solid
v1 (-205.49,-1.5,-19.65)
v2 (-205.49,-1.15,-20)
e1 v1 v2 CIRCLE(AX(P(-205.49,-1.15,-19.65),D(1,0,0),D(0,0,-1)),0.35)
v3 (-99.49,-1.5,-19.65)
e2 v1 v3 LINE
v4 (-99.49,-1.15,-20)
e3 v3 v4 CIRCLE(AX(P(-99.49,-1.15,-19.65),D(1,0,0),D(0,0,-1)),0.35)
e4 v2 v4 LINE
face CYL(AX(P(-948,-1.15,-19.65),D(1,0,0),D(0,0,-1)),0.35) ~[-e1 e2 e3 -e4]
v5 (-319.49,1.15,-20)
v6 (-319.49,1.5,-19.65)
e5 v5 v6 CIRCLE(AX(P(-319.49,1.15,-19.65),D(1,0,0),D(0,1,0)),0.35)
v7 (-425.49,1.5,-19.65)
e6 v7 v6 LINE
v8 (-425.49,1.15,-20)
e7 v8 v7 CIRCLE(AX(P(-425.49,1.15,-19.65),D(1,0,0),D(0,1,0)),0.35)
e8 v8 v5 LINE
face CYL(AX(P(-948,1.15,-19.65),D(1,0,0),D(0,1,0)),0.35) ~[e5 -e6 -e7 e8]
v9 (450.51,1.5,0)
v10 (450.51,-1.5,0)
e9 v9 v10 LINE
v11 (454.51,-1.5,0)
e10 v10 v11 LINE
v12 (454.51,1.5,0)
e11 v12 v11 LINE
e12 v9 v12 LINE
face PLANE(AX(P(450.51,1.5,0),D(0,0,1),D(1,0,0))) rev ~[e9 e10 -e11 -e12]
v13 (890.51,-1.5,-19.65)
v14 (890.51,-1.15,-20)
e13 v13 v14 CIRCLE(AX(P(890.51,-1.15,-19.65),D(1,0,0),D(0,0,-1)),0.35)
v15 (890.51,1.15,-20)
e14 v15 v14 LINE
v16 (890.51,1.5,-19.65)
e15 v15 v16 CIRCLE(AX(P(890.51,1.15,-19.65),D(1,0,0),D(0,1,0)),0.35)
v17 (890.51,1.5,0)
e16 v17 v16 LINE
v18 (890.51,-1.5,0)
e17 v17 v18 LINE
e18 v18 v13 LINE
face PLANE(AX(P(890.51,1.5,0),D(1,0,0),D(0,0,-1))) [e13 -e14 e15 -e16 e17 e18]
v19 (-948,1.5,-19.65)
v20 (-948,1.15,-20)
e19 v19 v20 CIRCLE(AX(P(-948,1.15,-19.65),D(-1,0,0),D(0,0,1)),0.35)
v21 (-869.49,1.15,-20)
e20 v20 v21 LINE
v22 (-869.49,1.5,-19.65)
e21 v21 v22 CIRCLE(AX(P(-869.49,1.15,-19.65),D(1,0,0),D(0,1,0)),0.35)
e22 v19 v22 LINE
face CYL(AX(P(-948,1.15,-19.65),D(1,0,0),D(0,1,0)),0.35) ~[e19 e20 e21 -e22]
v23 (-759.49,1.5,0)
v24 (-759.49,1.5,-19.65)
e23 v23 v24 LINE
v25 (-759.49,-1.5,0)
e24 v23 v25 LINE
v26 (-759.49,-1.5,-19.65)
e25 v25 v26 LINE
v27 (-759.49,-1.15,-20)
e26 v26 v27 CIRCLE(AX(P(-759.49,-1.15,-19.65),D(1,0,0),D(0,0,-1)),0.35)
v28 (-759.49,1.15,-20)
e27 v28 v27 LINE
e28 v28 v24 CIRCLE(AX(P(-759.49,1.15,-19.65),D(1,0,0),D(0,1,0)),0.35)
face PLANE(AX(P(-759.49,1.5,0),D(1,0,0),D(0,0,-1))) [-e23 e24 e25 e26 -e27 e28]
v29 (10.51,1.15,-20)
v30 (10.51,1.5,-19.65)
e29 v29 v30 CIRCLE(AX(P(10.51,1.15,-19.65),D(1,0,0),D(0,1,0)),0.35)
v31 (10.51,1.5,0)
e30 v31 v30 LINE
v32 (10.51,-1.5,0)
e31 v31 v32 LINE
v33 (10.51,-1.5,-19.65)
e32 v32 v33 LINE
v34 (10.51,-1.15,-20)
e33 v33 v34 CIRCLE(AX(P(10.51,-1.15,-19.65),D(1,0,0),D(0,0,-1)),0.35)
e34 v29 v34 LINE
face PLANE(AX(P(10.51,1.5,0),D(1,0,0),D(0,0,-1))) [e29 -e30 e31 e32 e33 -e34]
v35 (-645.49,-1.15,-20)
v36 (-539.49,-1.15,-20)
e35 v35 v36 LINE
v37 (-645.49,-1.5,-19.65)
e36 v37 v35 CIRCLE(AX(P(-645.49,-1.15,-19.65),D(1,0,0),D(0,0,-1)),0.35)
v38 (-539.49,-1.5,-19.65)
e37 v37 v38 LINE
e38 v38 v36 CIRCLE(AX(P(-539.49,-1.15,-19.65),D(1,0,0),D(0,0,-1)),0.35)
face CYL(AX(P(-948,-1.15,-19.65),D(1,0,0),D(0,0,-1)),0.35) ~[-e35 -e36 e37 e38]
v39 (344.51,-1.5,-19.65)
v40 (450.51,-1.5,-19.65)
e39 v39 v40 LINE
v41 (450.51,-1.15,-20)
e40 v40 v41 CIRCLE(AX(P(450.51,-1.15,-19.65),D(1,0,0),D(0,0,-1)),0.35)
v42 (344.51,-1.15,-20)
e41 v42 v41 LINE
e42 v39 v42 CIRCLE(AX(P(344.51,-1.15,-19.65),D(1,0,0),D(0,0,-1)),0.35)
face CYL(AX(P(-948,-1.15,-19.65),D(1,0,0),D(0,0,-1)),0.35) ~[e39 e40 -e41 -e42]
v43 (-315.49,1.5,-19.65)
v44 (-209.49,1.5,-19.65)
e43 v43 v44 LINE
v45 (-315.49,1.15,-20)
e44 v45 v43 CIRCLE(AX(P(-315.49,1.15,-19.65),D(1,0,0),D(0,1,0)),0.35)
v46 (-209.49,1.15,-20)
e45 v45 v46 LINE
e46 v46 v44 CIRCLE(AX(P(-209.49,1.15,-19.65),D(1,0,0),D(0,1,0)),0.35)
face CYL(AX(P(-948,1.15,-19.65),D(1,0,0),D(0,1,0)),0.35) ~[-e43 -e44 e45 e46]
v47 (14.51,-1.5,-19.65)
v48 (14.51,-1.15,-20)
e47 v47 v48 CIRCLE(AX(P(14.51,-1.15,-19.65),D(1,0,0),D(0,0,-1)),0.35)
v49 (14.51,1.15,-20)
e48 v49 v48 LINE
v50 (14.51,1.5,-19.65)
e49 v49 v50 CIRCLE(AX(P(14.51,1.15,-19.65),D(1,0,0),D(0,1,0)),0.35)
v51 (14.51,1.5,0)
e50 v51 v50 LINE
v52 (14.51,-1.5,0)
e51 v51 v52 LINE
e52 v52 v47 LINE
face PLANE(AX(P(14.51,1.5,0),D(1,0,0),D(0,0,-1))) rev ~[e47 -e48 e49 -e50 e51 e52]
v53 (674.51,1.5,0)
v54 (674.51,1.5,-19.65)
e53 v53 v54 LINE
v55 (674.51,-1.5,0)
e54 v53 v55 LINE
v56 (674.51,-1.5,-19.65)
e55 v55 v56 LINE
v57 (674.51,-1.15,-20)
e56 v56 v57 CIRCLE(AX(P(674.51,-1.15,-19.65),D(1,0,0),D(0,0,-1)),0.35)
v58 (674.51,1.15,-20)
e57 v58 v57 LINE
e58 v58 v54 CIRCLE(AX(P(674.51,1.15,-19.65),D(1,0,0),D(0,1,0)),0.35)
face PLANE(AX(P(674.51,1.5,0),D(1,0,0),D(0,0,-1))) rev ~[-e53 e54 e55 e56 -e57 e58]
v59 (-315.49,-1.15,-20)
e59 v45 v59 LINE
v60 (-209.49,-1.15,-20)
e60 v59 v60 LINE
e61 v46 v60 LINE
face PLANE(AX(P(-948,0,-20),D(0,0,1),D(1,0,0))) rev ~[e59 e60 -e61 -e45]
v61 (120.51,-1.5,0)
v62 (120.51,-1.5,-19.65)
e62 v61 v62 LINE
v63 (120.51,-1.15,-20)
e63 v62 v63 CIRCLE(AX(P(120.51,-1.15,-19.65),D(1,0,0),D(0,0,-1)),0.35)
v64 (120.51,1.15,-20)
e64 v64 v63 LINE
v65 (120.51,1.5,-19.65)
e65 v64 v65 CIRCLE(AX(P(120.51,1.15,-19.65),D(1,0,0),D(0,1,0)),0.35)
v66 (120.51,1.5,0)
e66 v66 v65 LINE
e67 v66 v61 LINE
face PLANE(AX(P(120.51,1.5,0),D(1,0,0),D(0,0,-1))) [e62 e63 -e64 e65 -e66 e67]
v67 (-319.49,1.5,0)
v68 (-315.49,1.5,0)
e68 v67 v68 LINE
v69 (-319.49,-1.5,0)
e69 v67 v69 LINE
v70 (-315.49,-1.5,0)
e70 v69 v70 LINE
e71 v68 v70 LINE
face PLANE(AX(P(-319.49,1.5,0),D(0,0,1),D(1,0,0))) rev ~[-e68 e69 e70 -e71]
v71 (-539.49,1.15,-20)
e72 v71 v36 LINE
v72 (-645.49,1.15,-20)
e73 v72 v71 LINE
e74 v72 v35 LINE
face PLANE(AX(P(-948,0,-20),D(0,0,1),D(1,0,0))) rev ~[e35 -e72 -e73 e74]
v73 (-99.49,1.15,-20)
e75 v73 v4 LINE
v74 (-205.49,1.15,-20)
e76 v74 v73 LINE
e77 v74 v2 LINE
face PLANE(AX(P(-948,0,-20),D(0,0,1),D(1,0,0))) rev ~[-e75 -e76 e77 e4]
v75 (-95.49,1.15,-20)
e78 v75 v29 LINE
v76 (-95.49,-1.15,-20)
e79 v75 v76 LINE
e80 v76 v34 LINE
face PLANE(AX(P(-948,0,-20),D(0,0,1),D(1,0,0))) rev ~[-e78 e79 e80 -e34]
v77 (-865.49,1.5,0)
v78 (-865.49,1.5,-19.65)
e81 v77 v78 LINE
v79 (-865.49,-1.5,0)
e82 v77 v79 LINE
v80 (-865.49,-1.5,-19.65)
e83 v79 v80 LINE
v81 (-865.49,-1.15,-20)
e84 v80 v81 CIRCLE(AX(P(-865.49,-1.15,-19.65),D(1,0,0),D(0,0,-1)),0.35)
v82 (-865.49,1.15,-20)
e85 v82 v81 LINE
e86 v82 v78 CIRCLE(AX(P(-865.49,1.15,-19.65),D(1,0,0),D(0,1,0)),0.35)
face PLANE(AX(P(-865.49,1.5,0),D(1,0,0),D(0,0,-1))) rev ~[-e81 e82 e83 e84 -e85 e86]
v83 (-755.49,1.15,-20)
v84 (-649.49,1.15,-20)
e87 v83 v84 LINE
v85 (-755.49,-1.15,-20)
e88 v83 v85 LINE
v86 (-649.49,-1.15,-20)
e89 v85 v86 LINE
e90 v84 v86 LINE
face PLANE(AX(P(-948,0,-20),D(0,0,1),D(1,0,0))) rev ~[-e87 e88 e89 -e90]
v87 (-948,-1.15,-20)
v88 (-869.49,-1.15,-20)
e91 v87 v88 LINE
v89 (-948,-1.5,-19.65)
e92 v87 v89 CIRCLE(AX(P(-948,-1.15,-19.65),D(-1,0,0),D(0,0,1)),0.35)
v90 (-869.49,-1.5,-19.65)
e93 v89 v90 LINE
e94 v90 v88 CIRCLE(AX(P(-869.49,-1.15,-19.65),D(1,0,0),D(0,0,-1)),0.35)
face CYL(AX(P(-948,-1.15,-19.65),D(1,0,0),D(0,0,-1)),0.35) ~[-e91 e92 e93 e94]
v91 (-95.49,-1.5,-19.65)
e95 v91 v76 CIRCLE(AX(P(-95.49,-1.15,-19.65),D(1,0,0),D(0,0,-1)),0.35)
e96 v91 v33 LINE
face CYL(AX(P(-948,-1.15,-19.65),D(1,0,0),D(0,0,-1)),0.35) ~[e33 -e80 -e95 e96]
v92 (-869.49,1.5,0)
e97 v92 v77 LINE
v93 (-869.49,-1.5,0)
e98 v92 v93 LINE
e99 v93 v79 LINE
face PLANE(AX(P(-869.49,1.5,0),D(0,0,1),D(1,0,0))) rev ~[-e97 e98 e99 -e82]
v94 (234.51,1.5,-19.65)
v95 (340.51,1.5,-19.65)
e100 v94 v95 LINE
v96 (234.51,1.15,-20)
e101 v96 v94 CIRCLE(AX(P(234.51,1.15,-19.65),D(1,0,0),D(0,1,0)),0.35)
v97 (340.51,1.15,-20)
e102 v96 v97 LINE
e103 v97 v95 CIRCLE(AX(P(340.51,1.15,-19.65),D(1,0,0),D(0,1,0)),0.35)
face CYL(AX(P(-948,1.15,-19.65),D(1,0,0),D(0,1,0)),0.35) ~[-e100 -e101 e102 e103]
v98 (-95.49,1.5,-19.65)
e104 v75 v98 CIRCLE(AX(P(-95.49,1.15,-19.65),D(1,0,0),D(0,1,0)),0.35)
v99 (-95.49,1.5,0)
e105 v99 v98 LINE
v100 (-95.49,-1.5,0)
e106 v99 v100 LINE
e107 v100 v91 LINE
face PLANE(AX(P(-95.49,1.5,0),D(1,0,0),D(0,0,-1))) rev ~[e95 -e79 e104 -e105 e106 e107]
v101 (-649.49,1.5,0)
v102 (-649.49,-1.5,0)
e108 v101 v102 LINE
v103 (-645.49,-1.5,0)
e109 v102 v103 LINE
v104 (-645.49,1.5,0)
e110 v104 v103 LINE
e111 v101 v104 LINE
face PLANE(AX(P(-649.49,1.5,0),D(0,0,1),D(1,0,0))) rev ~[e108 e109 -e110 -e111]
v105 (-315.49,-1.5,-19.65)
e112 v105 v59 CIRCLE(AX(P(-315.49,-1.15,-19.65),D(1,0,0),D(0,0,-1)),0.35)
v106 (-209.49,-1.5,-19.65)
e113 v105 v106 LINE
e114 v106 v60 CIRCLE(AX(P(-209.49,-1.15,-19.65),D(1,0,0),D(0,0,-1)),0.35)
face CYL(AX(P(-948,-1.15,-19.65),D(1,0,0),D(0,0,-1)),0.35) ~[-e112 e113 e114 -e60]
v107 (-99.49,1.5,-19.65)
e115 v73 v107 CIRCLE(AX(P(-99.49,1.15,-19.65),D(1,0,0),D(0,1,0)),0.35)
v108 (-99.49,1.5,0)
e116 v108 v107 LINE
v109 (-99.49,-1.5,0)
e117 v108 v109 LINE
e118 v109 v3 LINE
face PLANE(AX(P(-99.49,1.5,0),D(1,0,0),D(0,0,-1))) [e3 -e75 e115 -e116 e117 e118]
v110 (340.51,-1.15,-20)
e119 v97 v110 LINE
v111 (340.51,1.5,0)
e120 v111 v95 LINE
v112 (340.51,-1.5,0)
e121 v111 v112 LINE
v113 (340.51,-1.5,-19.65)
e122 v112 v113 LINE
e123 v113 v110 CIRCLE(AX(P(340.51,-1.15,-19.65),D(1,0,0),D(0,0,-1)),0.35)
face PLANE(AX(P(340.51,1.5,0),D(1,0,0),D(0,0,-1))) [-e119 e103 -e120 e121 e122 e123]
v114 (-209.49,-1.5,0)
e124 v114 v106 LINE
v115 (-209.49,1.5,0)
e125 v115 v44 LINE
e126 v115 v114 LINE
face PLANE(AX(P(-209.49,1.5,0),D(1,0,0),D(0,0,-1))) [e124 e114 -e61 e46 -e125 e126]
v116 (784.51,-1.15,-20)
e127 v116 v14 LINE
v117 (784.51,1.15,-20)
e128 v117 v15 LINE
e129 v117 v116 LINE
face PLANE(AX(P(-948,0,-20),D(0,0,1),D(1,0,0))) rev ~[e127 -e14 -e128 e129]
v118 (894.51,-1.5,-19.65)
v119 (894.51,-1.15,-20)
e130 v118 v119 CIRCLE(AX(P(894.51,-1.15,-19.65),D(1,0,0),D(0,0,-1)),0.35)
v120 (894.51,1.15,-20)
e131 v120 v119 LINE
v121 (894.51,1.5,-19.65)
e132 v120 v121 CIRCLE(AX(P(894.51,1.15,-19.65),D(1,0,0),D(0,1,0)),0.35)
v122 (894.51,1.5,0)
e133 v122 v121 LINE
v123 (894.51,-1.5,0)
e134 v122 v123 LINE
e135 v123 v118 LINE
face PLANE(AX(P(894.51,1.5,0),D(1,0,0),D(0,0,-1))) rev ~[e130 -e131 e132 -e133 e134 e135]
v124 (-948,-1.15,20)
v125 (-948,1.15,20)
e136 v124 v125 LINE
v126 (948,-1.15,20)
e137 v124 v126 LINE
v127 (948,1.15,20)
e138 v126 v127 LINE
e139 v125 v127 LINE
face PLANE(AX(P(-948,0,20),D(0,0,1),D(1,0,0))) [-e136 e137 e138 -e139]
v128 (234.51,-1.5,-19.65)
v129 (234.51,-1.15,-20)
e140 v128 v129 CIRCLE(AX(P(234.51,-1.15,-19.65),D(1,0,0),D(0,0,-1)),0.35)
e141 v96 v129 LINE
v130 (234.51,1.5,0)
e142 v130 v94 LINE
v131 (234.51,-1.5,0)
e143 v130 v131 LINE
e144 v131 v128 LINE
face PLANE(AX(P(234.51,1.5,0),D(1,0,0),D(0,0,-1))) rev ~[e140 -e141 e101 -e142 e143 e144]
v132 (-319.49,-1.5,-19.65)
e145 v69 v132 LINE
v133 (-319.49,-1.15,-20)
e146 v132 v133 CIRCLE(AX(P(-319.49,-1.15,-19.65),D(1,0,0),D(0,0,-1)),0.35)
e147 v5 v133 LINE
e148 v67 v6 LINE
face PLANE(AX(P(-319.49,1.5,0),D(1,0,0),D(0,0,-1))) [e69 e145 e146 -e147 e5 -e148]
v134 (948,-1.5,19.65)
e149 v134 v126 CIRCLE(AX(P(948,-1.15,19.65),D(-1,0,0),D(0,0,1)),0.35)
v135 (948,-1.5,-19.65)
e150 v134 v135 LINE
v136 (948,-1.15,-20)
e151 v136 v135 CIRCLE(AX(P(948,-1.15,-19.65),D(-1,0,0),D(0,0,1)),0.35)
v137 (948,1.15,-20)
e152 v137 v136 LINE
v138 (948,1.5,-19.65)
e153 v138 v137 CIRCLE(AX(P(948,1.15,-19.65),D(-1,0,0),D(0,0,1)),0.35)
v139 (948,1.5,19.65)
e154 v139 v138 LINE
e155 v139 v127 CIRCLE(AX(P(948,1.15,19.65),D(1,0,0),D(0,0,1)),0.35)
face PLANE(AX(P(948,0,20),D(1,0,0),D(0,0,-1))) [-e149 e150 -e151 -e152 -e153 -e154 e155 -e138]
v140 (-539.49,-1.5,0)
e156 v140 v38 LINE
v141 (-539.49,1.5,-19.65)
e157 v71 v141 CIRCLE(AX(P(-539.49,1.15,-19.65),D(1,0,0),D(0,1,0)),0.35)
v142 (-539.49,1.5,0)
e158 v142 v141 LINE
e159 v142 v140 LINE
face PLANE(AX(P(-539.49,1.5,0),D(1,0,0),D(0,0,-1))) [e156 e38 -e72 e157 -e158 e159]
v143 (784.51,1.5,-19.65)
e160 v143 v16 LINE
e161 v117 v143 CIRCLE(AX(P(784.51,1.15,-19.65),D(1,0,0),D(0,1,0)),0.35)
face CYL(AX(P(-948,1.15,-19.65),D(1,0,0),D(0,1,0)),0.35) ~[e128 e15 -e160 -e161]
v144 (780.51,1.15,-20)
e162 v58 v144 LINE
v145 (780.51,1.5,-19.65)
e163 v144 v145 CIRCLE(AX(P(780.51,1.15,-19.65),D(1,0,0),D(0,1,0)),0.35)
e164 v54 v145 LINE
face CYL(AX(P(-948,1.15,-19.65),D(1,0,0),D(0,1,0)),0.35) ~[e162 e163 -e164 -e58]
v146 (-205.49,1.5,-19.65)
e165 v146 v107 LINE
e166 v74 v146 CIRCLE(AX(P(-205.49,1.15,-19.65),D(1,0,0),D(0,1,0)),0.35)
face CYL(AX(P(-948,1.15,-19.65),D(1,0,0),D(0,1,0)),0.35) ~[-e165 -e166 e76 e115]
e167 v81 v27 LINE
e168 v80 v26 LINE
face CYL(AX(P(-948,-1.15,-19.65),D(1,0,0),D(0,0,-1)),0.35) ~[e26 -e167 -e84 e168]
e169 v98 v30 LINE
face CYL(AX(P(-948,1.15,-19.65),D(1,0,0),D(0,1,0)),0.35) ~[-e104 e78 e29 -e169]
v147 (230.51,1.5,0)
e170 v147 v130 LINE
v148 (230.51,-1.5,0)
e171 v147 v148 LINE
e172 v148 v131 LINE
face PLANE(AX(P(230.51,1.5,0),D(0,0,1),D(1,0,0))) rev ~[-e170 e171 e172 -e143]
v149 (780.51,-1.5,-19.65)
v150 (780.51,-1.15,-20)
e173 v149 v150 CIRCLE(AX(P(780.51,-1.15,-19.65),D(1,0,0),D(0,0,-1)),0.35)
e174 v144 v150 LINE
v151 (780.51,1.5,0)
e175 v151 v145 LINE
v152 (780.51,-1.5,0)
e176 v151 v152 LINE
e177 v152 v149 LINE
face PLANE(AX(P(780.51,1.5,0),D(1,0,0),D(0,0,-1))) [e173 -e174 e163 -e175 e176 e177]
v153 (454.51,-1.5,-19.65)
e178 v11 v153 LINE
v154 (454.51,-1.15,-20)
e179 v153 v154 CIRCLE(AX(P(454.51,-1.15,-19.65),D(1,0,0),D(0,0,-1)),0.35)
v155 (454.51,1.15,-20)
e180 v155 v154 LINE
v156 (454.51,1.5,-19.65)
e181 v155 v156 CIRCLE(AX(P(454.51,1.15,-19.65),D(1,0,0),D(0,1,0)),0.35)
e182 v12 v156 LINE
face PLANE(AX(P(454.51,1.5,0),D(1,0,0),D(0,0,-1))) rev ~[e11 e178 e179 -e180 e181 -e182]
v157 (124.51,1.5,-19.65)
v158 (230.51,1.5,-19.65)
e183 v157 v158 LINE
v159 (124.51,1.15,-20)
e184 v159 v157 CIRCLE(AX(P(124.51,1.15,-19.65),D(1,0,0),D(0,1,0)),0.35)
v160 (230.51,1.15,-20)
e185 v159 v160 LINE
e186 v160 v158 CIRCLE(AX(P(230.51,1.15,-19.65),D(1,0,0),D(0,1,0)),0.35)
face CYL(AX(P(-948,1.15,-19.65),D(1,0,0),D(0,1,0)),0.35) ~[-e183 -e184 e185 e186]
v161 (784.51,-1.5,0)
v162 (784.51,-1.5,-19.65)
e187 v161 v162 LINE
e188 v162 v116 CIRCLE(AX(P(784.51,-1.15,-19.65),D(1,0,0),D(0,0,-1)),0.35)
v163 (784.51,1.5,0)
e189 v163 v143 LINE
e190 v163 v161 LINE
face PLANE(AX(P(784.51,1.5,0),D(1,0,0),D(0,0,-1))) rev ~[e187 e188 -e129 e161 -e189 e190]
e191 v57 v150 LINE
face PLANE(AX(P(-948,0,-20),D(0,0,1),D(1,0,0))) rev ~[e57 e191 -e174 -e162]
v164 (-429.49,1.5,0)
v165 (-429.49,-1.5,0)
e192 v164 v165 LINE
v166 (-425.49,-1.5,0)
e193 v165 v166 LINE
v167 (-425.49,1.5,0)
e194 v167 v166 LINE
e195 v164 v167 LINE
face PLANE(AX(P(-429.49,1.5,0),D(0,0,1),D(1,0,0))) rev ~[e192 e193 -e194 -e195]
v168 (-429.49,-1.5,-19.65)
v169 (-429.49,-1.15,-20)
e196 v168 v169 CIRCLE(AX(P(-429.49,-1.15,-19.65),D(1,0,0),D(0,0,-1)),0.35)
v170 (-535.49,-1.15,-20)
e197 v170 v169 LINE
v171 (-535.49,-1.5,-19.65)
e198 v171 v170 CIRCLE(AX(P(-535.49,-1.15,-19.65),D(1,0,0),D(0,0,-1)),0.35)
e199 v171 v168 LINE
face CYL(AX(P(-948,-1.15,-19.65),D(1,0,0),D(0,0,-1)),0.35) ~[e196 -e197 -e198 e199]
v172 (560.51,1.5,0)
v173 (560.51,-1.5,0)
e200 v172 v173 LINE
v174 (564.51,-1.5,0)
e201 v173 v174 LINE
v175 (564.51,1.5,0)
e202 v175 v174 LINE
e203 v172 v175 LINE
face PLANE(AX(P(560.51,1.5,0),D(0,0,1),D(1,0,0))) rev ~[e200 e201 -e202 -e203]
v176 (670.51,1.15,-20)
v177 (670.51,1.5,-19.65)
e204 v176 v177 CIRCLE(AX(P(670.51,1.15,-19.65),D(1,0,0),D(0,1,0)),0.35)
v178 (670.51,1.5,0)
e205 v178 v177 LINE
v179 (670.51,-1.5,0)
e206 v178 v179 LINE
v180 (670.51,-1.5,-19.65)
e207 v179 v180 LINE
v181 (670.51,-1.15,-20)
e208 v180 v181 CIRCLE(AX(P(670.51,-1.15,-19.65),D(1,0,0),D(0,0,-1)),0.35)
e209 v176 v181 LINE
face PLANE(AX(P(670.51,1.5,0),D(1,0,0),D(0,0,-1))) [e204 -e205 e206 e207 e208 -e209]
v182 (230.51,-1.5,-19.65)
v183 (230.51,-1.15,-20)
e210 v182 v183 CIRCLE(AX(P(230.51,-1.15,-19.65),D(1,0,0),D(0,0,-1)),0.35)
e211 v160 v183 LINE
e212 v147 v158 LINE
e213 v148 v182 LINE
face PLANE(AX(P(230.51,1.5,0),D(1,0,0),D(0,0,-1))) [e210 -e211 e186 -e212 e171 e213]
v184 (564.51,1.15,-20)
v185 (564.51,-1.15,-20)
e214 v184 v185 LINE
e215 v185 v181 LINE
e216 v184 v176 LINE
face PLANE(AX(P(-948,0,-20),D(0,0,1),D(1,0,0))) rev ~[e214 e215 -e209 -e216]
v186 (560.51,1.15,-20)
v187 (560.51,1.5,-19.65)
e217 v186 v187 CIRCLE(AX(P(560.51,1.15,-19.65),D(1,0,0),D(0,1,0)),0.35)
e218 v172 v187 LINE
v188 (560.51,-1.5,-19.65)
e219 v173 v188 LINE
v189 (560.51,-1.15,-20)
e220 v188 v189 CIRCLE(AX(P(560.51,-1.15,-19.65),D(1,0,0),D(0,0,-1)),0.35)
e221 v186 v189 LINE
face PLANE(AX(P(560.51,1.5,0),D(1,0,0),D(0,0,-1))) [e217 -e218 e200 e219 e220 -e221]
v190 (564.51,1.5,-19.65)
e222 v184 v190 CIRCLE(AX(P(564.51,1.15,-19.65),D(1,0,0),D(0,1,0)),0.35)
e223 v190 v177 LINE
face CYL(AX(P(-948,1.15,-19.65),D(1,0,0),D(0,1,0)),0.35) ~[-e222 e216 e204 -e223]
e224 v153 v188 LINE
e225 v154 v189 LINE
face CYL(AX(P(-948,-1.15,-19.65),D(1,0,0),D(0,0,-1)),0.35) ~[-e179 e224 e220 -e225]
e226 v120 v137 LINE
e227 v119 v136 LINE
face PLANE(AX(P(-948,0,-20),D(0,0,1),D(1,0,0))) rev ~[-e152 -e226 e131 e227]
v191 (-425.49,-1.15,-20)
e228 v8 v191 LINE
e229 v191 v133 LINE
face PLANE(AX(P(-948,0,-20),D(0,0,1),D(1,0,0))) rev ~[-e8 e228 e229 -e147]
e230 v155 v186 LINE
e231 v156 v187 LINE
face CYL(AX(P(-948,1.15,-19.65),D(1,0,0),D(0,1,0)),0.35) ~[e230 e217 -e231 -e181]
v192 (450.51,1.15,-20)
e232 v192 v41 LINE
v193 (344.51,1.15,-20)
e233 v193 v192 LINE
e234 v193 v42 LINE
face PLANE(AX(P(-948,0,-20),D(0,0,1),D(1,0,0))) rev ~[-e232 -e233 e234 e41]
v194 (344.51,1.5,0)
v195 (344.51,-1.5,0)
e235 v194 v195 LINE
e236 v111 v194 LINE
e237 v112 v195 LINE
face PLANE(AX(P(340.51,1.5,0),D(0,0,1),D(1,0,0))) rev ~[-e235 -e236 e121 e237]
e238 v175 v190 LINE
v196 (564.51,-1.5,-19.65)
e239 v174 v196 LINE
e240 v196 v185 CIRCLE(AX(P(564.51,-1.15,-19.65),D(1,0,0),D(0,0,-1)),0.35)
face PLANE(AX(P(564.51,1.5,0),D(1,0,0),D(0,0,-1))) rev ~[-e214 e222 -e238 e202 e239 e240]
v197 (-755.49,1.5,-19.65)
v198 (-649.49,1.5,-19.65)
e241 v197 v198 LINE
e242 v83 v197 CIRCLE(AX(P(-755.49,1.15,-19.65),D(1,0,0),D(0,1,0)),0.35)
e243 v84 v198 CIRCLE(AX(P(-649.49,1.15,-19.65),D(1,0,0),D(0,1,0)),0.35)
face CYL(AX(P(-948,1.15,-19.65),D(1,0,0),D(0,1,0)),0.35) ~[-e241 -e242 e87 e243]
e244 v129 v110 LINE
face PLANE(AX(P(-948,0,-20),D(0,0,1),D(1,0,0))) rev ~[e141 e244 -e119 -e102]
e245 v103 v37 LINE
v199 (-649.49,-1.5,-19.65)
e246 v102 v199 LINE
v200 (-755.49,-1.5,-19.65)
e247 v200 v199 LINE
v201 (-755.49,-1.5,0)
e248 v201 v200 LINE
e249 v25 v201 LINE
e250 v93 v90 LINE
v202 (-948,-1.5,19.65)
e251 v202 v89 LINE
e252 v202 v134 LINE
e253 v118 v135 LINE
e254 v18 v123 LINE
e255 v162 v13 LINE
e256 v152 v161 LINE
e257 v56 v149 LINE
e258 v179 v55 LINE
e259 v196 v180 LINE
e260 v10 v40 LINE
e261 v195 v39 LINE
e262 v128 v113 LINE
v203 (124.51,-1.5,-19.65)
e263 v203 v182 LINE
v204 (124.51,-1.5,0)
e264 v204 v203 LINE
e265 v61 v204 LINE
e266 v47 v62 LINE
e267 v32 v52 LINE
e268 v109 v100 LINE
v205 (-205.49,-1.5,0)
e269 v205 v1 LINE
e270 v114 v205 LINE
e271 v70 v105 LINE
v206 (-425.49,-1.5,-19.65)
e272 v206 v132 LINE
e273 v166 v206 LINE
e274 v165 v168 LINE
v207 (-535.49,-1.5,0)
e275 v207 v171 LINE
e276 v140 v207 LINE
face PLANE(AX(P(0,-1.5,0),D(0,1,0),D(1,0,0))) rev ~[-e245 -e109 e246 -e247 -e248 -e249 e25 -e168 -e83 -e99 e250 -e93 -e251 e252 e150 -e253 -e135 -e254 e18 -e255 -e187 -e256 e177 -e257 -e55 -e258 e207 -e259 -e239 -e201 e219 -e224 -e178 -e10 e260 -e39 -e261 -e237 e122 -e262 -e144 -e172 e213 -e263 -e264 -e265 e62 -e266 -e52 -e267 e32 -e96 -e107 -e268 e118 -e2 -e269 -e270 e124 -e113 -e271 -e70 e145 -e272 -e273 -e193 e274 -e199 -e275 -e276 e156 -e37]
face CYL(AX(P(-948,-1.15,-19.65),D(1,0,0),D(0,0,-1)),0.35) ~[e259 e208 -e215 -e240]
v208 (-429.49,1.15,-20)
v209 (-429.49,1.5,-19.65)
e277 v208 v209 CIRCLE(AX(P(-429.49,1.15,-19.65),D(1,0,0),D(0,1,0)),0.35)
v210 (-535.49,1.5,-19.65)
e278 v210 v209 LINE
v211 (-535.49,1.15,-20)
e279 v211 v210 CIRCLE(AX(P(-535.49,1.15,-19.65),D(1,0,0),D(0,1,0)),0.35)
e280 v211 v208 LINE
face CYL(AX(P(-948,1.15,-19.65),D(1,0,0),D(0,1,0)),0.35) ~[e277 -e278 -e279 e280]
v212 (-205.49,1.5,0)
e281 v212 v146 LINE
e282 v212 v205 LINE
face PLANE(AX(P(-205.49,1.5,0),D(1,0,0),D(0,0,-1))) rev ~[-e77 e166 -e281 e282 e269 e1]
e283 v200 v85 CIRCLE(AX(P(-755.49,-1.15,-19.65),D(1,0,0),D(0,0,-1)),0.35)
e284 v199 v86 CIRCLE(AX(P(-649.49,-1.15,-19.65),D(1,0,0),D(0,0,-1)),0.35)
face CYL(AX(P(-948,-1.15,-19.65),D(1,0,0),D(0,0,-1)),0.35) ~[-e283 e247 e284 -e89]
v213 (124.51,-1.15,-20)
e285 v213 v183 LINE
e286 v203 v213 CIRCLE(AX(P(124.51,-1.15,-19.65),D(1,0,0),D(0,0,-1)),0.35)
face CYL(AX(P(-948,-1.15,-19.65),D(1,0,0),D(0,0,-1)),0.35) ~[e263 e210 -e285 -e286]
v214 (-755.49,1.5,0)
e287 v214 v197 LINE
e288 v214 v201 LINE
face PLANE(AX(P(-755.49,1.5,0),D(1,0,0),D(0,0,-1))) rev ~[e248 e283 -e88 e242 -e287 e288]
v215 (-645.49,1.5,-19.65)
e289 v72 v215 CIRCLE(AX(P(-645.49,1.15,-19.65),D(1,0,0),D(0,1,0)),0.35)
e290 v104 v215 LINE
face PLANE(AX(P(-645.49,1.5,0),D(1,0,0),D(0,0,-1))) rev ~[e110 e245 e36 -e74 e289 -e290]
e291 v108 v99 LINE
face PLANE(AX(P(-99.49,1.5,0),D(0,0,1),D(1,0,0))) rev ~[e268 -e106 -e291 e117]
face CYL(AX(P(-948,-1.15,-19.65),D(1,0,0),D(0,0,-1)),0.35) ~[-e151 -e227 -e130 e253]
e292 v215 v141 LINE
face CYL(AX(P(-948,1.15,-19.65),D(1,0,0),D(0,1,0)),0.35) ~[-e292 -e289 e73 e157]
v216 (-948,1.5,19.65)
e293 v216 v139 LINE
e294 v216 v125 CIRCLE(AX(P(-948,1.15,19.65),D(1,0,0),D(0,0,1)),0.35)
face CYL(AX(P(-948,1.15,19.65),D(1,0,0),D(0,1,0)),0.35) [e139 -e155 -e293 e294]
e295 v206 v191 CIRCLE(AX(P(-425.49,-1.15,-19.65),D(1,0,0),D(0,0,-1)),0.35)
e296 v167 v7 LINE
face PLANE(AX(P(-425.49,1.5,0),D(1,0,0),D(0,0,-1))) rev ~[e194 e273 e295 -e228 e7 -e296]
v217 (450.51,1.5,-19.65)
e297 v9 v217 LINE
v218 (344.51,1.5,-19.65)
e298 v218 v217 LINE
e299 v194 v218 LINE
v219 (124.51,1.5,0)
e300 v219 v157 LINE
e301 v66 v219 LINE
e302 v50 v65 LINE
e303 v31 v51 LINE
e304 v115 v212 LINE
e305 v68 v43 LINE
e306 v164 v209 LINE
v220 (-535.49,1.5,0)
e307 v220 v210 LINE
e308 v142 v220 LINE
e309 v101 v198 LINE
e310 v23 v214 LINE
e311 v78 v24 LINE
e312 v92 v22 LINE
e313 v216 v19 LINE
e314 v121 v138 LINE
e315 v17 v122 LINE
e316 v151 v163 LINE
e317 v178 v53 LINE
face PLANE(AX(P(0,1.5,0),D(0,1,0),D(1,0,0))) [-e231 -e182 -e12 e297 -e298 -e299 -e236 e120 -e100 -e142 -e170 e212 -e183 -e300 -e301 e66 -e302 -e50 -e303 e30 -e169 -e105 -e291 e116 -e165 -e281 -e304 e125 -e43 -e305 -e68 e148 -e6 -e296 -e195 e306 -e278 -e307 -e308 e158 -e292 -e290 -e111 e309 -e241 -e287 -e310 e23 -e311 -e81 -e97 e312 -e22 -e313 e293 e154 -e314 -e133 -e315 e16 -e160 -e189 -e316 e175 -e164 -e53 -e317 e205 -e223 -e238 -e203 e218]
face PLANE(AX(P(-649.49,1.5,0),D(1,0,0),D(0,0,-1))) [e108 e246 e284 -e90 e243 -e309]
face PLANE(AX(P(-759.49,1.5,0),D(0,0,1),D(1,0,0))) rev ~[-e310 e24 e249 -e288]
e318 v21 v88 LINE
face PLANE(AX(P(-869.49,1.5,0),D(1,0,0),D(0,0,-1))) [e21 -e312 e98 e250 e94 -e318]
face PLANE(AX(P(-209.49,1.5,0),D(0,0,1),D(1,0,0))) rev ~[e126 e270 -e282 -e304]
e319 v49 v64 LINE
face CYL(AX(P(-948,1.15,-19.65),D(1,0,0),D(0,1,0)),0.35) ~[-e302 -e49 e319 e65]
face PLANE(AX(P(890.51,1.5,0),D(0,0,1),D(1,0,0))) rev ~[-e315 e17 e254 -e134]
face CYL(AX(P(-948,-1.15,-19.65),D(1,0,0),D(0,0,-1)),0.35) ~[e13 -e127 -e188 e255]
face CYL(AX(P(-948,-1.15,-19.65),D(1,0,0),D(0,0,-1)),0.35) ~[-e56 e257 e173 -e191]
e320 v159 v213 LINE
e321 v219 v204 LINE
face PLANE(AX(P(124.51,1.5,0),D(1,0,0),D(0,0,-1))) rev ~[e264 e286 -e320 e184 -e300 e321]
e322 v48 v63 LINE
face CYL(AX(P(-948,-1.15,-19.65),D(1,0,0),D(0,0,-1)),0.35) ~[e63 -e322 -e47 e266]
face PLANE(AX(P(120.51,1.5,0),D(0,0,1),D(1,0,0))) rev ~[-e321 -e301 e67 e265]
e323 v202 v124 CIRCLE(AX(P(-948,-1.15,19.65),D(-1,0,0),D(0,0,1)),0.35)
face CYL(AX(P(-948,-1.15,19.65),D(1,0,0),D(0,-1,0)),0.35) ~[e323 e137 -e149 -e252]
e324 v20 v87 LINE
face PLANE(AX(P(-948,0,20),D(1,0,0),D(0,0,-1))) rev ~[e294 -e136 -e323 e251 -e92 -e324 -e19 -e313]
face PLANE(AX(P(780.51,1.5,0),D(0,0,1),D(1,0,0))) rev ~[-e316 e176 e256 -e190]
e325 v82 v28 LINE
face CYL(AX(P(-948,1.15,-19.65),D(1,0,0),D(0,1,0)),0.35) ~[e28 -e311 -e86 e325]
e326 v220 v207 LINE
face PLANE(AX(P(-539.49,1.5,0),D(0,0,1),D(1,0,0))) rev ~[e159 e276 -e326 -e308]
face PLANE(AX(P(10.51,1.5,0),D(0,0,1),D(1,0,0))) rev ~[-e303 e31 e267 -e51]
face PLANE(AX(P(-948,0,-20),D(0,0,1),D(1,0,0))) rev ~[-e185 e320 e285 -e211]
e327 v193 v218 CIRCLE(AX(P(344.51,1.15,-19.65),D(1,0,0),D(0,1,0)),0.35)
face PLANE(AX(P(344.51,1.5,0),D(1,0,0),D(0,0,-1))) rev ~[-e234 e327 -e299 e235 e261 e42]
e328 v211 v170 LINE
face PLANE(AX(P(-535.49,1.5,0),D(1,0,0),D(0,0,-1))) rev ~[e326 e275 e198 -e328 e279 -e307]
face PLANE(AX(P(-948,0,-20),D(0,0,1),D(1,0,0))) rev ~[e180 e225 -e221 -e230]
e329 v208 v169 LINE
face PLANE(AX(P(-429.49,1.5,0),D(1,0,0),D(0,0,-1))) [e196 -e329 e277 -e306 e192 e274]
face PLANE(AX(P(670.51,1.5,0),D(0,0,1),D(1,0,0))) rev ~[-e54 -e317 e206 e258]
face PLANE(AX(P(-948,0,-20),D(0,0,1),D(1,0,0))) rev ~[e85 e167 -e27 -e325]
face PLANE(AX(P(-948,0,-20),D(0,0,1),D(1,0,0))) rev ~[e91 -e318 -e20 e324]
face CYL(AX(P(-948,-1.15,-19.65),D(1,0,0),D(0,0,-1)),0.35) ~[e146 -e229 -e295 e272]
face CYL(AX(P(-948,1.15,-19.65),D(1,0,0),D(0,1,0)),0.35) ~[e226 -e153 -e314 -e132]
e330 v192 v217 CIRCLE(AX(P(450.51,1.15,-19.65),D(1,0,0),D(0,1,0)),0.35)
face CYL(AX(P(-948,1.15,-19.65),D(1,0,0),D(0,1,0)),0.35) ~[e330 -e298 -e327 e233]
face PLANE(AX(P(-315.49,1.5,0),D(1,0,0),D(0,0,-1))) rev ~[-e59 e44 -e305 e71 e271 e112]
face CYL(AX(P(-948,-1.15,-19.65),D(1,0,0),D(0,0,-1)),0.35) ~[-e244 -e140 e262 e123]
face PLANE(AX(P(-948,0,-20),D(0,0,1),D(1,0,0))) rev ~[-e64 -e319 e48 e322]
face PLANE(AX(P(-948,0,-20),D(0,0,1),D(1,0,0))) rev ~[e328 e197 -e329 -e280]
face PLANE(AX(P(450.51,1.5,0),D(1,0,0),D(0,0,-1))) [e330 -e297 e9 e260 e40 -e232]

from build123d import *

# Parameters (mm, degrees)
SKETCH1_W                = 1896
SKETCH1_H                = 40
BOSS_EXTRUDE1_DEPTH      = 1.5
BOSS_EXTRUDE1_DEPTH_BACK = 1.5
FILLET1_R                = 0.35
SKETCH2_W                = 4
SKETCH2_H                = 20
CUT_EXTRUDE1_DEPTH       = 4


with BuildPart() as part:
    # Sketch1 → Boss-Extrude1 (new body, two sides)
    with BuildSketch(Plane(origin=(0, 0, 0), x_dir=(1, 0, 0), z_dir=(0, 1, 0))) as boss_extrude1_sk:
        Rectangle(SKETCH1_W, SKETCH1_H)
    extrude(amount=BOSS_EXTRUDE1_DEPTH)
    extrude(boss_extrude1_sk.sketch, amount=-BOSS_EXTRUDE1_DEPTH_BACK)

    # Fillet1
    fillet1_edges = [part.edges().sort_by_distance(p)[0] for p in [
        (0, 1.5, -20),
        (0, 1.5, 20),
        (0, -1.5, 20),
        (0, -1.5, -20),
    ]]
    fillet(fillet1_edges, radius=FILLET1_R)

    # Sketch2 → Cut-Extrude1 (cut, through all)
    with BuildSketch(Plane(origin=(0, 1.5, 0), x_dir=(1, 0, 0), z_dir=(0, 1, 0))):
        with Locations((782.51, 10)):
            Rectangle(SKETCH2_W, SKETCH2_H)
        with Locations((892.51, 10)):
            Rectangle(SKETCH2_W, SKETCH2_H)
        with Locations((672.51, 10)):
            Rectangle(SKETCH2_W, SKETCH2_H)
        with Locations((562.51, 10)):
            Rectangle(SKETCH2_W, SKETCH2_H)
        with Locations((452.51, 10)):
            Rectangle(SKETCH2_W, SKETCH2_H)
        with Locations((342.51, 10)):
            Rectangle(SKETCH2_W, SKETCH2_H)
        with Locations((232.51, 10)):
            Rectangle(SKETCH2_W, SKETCH2_H)
        with Locations((122.51, 10)):
            Rectangle(SKETCH2_W, SKETCH2_H)
        with Locations((12.51, 10)):
            Rectangle(SKETCH2_W, SKETCH2_H)
        with Locations((-97.49, 10)):
            Rectangle(SKETCH2_W, SKETCH2_H)
        with Locations((-207.49, 10)):
            Rectangle(SKETCH2_W, SKETCH2_H)
        with Locations((-317.49, 10)):
            Rectangle(SKETCH2_W, SKETCH2_H)
        with Locations((-427.49, 10)):
            Rectangle(SKETCH2_W, SKETCH2_H)
        with Locations((-537.49, 10)):
            Rectangle(SKETCH2_W, SKETCH2_H)
        with Locations((-647.49, 10)):
            Rectangle(SKETCH2_W, SKETCH2_H)
        with Locations((-757.49, 10)):
            Rectangle(SKETCH2_W, SKETCH2_H)
        with Locations((-867.49, 10)):
            Rectangle(SKETCH2_W, SKETCH2_H)
    extrude(amount=-CUT_EXTRUDE1_DEPTH, mode=Mode.SUBTRACT)


solid = part.part
